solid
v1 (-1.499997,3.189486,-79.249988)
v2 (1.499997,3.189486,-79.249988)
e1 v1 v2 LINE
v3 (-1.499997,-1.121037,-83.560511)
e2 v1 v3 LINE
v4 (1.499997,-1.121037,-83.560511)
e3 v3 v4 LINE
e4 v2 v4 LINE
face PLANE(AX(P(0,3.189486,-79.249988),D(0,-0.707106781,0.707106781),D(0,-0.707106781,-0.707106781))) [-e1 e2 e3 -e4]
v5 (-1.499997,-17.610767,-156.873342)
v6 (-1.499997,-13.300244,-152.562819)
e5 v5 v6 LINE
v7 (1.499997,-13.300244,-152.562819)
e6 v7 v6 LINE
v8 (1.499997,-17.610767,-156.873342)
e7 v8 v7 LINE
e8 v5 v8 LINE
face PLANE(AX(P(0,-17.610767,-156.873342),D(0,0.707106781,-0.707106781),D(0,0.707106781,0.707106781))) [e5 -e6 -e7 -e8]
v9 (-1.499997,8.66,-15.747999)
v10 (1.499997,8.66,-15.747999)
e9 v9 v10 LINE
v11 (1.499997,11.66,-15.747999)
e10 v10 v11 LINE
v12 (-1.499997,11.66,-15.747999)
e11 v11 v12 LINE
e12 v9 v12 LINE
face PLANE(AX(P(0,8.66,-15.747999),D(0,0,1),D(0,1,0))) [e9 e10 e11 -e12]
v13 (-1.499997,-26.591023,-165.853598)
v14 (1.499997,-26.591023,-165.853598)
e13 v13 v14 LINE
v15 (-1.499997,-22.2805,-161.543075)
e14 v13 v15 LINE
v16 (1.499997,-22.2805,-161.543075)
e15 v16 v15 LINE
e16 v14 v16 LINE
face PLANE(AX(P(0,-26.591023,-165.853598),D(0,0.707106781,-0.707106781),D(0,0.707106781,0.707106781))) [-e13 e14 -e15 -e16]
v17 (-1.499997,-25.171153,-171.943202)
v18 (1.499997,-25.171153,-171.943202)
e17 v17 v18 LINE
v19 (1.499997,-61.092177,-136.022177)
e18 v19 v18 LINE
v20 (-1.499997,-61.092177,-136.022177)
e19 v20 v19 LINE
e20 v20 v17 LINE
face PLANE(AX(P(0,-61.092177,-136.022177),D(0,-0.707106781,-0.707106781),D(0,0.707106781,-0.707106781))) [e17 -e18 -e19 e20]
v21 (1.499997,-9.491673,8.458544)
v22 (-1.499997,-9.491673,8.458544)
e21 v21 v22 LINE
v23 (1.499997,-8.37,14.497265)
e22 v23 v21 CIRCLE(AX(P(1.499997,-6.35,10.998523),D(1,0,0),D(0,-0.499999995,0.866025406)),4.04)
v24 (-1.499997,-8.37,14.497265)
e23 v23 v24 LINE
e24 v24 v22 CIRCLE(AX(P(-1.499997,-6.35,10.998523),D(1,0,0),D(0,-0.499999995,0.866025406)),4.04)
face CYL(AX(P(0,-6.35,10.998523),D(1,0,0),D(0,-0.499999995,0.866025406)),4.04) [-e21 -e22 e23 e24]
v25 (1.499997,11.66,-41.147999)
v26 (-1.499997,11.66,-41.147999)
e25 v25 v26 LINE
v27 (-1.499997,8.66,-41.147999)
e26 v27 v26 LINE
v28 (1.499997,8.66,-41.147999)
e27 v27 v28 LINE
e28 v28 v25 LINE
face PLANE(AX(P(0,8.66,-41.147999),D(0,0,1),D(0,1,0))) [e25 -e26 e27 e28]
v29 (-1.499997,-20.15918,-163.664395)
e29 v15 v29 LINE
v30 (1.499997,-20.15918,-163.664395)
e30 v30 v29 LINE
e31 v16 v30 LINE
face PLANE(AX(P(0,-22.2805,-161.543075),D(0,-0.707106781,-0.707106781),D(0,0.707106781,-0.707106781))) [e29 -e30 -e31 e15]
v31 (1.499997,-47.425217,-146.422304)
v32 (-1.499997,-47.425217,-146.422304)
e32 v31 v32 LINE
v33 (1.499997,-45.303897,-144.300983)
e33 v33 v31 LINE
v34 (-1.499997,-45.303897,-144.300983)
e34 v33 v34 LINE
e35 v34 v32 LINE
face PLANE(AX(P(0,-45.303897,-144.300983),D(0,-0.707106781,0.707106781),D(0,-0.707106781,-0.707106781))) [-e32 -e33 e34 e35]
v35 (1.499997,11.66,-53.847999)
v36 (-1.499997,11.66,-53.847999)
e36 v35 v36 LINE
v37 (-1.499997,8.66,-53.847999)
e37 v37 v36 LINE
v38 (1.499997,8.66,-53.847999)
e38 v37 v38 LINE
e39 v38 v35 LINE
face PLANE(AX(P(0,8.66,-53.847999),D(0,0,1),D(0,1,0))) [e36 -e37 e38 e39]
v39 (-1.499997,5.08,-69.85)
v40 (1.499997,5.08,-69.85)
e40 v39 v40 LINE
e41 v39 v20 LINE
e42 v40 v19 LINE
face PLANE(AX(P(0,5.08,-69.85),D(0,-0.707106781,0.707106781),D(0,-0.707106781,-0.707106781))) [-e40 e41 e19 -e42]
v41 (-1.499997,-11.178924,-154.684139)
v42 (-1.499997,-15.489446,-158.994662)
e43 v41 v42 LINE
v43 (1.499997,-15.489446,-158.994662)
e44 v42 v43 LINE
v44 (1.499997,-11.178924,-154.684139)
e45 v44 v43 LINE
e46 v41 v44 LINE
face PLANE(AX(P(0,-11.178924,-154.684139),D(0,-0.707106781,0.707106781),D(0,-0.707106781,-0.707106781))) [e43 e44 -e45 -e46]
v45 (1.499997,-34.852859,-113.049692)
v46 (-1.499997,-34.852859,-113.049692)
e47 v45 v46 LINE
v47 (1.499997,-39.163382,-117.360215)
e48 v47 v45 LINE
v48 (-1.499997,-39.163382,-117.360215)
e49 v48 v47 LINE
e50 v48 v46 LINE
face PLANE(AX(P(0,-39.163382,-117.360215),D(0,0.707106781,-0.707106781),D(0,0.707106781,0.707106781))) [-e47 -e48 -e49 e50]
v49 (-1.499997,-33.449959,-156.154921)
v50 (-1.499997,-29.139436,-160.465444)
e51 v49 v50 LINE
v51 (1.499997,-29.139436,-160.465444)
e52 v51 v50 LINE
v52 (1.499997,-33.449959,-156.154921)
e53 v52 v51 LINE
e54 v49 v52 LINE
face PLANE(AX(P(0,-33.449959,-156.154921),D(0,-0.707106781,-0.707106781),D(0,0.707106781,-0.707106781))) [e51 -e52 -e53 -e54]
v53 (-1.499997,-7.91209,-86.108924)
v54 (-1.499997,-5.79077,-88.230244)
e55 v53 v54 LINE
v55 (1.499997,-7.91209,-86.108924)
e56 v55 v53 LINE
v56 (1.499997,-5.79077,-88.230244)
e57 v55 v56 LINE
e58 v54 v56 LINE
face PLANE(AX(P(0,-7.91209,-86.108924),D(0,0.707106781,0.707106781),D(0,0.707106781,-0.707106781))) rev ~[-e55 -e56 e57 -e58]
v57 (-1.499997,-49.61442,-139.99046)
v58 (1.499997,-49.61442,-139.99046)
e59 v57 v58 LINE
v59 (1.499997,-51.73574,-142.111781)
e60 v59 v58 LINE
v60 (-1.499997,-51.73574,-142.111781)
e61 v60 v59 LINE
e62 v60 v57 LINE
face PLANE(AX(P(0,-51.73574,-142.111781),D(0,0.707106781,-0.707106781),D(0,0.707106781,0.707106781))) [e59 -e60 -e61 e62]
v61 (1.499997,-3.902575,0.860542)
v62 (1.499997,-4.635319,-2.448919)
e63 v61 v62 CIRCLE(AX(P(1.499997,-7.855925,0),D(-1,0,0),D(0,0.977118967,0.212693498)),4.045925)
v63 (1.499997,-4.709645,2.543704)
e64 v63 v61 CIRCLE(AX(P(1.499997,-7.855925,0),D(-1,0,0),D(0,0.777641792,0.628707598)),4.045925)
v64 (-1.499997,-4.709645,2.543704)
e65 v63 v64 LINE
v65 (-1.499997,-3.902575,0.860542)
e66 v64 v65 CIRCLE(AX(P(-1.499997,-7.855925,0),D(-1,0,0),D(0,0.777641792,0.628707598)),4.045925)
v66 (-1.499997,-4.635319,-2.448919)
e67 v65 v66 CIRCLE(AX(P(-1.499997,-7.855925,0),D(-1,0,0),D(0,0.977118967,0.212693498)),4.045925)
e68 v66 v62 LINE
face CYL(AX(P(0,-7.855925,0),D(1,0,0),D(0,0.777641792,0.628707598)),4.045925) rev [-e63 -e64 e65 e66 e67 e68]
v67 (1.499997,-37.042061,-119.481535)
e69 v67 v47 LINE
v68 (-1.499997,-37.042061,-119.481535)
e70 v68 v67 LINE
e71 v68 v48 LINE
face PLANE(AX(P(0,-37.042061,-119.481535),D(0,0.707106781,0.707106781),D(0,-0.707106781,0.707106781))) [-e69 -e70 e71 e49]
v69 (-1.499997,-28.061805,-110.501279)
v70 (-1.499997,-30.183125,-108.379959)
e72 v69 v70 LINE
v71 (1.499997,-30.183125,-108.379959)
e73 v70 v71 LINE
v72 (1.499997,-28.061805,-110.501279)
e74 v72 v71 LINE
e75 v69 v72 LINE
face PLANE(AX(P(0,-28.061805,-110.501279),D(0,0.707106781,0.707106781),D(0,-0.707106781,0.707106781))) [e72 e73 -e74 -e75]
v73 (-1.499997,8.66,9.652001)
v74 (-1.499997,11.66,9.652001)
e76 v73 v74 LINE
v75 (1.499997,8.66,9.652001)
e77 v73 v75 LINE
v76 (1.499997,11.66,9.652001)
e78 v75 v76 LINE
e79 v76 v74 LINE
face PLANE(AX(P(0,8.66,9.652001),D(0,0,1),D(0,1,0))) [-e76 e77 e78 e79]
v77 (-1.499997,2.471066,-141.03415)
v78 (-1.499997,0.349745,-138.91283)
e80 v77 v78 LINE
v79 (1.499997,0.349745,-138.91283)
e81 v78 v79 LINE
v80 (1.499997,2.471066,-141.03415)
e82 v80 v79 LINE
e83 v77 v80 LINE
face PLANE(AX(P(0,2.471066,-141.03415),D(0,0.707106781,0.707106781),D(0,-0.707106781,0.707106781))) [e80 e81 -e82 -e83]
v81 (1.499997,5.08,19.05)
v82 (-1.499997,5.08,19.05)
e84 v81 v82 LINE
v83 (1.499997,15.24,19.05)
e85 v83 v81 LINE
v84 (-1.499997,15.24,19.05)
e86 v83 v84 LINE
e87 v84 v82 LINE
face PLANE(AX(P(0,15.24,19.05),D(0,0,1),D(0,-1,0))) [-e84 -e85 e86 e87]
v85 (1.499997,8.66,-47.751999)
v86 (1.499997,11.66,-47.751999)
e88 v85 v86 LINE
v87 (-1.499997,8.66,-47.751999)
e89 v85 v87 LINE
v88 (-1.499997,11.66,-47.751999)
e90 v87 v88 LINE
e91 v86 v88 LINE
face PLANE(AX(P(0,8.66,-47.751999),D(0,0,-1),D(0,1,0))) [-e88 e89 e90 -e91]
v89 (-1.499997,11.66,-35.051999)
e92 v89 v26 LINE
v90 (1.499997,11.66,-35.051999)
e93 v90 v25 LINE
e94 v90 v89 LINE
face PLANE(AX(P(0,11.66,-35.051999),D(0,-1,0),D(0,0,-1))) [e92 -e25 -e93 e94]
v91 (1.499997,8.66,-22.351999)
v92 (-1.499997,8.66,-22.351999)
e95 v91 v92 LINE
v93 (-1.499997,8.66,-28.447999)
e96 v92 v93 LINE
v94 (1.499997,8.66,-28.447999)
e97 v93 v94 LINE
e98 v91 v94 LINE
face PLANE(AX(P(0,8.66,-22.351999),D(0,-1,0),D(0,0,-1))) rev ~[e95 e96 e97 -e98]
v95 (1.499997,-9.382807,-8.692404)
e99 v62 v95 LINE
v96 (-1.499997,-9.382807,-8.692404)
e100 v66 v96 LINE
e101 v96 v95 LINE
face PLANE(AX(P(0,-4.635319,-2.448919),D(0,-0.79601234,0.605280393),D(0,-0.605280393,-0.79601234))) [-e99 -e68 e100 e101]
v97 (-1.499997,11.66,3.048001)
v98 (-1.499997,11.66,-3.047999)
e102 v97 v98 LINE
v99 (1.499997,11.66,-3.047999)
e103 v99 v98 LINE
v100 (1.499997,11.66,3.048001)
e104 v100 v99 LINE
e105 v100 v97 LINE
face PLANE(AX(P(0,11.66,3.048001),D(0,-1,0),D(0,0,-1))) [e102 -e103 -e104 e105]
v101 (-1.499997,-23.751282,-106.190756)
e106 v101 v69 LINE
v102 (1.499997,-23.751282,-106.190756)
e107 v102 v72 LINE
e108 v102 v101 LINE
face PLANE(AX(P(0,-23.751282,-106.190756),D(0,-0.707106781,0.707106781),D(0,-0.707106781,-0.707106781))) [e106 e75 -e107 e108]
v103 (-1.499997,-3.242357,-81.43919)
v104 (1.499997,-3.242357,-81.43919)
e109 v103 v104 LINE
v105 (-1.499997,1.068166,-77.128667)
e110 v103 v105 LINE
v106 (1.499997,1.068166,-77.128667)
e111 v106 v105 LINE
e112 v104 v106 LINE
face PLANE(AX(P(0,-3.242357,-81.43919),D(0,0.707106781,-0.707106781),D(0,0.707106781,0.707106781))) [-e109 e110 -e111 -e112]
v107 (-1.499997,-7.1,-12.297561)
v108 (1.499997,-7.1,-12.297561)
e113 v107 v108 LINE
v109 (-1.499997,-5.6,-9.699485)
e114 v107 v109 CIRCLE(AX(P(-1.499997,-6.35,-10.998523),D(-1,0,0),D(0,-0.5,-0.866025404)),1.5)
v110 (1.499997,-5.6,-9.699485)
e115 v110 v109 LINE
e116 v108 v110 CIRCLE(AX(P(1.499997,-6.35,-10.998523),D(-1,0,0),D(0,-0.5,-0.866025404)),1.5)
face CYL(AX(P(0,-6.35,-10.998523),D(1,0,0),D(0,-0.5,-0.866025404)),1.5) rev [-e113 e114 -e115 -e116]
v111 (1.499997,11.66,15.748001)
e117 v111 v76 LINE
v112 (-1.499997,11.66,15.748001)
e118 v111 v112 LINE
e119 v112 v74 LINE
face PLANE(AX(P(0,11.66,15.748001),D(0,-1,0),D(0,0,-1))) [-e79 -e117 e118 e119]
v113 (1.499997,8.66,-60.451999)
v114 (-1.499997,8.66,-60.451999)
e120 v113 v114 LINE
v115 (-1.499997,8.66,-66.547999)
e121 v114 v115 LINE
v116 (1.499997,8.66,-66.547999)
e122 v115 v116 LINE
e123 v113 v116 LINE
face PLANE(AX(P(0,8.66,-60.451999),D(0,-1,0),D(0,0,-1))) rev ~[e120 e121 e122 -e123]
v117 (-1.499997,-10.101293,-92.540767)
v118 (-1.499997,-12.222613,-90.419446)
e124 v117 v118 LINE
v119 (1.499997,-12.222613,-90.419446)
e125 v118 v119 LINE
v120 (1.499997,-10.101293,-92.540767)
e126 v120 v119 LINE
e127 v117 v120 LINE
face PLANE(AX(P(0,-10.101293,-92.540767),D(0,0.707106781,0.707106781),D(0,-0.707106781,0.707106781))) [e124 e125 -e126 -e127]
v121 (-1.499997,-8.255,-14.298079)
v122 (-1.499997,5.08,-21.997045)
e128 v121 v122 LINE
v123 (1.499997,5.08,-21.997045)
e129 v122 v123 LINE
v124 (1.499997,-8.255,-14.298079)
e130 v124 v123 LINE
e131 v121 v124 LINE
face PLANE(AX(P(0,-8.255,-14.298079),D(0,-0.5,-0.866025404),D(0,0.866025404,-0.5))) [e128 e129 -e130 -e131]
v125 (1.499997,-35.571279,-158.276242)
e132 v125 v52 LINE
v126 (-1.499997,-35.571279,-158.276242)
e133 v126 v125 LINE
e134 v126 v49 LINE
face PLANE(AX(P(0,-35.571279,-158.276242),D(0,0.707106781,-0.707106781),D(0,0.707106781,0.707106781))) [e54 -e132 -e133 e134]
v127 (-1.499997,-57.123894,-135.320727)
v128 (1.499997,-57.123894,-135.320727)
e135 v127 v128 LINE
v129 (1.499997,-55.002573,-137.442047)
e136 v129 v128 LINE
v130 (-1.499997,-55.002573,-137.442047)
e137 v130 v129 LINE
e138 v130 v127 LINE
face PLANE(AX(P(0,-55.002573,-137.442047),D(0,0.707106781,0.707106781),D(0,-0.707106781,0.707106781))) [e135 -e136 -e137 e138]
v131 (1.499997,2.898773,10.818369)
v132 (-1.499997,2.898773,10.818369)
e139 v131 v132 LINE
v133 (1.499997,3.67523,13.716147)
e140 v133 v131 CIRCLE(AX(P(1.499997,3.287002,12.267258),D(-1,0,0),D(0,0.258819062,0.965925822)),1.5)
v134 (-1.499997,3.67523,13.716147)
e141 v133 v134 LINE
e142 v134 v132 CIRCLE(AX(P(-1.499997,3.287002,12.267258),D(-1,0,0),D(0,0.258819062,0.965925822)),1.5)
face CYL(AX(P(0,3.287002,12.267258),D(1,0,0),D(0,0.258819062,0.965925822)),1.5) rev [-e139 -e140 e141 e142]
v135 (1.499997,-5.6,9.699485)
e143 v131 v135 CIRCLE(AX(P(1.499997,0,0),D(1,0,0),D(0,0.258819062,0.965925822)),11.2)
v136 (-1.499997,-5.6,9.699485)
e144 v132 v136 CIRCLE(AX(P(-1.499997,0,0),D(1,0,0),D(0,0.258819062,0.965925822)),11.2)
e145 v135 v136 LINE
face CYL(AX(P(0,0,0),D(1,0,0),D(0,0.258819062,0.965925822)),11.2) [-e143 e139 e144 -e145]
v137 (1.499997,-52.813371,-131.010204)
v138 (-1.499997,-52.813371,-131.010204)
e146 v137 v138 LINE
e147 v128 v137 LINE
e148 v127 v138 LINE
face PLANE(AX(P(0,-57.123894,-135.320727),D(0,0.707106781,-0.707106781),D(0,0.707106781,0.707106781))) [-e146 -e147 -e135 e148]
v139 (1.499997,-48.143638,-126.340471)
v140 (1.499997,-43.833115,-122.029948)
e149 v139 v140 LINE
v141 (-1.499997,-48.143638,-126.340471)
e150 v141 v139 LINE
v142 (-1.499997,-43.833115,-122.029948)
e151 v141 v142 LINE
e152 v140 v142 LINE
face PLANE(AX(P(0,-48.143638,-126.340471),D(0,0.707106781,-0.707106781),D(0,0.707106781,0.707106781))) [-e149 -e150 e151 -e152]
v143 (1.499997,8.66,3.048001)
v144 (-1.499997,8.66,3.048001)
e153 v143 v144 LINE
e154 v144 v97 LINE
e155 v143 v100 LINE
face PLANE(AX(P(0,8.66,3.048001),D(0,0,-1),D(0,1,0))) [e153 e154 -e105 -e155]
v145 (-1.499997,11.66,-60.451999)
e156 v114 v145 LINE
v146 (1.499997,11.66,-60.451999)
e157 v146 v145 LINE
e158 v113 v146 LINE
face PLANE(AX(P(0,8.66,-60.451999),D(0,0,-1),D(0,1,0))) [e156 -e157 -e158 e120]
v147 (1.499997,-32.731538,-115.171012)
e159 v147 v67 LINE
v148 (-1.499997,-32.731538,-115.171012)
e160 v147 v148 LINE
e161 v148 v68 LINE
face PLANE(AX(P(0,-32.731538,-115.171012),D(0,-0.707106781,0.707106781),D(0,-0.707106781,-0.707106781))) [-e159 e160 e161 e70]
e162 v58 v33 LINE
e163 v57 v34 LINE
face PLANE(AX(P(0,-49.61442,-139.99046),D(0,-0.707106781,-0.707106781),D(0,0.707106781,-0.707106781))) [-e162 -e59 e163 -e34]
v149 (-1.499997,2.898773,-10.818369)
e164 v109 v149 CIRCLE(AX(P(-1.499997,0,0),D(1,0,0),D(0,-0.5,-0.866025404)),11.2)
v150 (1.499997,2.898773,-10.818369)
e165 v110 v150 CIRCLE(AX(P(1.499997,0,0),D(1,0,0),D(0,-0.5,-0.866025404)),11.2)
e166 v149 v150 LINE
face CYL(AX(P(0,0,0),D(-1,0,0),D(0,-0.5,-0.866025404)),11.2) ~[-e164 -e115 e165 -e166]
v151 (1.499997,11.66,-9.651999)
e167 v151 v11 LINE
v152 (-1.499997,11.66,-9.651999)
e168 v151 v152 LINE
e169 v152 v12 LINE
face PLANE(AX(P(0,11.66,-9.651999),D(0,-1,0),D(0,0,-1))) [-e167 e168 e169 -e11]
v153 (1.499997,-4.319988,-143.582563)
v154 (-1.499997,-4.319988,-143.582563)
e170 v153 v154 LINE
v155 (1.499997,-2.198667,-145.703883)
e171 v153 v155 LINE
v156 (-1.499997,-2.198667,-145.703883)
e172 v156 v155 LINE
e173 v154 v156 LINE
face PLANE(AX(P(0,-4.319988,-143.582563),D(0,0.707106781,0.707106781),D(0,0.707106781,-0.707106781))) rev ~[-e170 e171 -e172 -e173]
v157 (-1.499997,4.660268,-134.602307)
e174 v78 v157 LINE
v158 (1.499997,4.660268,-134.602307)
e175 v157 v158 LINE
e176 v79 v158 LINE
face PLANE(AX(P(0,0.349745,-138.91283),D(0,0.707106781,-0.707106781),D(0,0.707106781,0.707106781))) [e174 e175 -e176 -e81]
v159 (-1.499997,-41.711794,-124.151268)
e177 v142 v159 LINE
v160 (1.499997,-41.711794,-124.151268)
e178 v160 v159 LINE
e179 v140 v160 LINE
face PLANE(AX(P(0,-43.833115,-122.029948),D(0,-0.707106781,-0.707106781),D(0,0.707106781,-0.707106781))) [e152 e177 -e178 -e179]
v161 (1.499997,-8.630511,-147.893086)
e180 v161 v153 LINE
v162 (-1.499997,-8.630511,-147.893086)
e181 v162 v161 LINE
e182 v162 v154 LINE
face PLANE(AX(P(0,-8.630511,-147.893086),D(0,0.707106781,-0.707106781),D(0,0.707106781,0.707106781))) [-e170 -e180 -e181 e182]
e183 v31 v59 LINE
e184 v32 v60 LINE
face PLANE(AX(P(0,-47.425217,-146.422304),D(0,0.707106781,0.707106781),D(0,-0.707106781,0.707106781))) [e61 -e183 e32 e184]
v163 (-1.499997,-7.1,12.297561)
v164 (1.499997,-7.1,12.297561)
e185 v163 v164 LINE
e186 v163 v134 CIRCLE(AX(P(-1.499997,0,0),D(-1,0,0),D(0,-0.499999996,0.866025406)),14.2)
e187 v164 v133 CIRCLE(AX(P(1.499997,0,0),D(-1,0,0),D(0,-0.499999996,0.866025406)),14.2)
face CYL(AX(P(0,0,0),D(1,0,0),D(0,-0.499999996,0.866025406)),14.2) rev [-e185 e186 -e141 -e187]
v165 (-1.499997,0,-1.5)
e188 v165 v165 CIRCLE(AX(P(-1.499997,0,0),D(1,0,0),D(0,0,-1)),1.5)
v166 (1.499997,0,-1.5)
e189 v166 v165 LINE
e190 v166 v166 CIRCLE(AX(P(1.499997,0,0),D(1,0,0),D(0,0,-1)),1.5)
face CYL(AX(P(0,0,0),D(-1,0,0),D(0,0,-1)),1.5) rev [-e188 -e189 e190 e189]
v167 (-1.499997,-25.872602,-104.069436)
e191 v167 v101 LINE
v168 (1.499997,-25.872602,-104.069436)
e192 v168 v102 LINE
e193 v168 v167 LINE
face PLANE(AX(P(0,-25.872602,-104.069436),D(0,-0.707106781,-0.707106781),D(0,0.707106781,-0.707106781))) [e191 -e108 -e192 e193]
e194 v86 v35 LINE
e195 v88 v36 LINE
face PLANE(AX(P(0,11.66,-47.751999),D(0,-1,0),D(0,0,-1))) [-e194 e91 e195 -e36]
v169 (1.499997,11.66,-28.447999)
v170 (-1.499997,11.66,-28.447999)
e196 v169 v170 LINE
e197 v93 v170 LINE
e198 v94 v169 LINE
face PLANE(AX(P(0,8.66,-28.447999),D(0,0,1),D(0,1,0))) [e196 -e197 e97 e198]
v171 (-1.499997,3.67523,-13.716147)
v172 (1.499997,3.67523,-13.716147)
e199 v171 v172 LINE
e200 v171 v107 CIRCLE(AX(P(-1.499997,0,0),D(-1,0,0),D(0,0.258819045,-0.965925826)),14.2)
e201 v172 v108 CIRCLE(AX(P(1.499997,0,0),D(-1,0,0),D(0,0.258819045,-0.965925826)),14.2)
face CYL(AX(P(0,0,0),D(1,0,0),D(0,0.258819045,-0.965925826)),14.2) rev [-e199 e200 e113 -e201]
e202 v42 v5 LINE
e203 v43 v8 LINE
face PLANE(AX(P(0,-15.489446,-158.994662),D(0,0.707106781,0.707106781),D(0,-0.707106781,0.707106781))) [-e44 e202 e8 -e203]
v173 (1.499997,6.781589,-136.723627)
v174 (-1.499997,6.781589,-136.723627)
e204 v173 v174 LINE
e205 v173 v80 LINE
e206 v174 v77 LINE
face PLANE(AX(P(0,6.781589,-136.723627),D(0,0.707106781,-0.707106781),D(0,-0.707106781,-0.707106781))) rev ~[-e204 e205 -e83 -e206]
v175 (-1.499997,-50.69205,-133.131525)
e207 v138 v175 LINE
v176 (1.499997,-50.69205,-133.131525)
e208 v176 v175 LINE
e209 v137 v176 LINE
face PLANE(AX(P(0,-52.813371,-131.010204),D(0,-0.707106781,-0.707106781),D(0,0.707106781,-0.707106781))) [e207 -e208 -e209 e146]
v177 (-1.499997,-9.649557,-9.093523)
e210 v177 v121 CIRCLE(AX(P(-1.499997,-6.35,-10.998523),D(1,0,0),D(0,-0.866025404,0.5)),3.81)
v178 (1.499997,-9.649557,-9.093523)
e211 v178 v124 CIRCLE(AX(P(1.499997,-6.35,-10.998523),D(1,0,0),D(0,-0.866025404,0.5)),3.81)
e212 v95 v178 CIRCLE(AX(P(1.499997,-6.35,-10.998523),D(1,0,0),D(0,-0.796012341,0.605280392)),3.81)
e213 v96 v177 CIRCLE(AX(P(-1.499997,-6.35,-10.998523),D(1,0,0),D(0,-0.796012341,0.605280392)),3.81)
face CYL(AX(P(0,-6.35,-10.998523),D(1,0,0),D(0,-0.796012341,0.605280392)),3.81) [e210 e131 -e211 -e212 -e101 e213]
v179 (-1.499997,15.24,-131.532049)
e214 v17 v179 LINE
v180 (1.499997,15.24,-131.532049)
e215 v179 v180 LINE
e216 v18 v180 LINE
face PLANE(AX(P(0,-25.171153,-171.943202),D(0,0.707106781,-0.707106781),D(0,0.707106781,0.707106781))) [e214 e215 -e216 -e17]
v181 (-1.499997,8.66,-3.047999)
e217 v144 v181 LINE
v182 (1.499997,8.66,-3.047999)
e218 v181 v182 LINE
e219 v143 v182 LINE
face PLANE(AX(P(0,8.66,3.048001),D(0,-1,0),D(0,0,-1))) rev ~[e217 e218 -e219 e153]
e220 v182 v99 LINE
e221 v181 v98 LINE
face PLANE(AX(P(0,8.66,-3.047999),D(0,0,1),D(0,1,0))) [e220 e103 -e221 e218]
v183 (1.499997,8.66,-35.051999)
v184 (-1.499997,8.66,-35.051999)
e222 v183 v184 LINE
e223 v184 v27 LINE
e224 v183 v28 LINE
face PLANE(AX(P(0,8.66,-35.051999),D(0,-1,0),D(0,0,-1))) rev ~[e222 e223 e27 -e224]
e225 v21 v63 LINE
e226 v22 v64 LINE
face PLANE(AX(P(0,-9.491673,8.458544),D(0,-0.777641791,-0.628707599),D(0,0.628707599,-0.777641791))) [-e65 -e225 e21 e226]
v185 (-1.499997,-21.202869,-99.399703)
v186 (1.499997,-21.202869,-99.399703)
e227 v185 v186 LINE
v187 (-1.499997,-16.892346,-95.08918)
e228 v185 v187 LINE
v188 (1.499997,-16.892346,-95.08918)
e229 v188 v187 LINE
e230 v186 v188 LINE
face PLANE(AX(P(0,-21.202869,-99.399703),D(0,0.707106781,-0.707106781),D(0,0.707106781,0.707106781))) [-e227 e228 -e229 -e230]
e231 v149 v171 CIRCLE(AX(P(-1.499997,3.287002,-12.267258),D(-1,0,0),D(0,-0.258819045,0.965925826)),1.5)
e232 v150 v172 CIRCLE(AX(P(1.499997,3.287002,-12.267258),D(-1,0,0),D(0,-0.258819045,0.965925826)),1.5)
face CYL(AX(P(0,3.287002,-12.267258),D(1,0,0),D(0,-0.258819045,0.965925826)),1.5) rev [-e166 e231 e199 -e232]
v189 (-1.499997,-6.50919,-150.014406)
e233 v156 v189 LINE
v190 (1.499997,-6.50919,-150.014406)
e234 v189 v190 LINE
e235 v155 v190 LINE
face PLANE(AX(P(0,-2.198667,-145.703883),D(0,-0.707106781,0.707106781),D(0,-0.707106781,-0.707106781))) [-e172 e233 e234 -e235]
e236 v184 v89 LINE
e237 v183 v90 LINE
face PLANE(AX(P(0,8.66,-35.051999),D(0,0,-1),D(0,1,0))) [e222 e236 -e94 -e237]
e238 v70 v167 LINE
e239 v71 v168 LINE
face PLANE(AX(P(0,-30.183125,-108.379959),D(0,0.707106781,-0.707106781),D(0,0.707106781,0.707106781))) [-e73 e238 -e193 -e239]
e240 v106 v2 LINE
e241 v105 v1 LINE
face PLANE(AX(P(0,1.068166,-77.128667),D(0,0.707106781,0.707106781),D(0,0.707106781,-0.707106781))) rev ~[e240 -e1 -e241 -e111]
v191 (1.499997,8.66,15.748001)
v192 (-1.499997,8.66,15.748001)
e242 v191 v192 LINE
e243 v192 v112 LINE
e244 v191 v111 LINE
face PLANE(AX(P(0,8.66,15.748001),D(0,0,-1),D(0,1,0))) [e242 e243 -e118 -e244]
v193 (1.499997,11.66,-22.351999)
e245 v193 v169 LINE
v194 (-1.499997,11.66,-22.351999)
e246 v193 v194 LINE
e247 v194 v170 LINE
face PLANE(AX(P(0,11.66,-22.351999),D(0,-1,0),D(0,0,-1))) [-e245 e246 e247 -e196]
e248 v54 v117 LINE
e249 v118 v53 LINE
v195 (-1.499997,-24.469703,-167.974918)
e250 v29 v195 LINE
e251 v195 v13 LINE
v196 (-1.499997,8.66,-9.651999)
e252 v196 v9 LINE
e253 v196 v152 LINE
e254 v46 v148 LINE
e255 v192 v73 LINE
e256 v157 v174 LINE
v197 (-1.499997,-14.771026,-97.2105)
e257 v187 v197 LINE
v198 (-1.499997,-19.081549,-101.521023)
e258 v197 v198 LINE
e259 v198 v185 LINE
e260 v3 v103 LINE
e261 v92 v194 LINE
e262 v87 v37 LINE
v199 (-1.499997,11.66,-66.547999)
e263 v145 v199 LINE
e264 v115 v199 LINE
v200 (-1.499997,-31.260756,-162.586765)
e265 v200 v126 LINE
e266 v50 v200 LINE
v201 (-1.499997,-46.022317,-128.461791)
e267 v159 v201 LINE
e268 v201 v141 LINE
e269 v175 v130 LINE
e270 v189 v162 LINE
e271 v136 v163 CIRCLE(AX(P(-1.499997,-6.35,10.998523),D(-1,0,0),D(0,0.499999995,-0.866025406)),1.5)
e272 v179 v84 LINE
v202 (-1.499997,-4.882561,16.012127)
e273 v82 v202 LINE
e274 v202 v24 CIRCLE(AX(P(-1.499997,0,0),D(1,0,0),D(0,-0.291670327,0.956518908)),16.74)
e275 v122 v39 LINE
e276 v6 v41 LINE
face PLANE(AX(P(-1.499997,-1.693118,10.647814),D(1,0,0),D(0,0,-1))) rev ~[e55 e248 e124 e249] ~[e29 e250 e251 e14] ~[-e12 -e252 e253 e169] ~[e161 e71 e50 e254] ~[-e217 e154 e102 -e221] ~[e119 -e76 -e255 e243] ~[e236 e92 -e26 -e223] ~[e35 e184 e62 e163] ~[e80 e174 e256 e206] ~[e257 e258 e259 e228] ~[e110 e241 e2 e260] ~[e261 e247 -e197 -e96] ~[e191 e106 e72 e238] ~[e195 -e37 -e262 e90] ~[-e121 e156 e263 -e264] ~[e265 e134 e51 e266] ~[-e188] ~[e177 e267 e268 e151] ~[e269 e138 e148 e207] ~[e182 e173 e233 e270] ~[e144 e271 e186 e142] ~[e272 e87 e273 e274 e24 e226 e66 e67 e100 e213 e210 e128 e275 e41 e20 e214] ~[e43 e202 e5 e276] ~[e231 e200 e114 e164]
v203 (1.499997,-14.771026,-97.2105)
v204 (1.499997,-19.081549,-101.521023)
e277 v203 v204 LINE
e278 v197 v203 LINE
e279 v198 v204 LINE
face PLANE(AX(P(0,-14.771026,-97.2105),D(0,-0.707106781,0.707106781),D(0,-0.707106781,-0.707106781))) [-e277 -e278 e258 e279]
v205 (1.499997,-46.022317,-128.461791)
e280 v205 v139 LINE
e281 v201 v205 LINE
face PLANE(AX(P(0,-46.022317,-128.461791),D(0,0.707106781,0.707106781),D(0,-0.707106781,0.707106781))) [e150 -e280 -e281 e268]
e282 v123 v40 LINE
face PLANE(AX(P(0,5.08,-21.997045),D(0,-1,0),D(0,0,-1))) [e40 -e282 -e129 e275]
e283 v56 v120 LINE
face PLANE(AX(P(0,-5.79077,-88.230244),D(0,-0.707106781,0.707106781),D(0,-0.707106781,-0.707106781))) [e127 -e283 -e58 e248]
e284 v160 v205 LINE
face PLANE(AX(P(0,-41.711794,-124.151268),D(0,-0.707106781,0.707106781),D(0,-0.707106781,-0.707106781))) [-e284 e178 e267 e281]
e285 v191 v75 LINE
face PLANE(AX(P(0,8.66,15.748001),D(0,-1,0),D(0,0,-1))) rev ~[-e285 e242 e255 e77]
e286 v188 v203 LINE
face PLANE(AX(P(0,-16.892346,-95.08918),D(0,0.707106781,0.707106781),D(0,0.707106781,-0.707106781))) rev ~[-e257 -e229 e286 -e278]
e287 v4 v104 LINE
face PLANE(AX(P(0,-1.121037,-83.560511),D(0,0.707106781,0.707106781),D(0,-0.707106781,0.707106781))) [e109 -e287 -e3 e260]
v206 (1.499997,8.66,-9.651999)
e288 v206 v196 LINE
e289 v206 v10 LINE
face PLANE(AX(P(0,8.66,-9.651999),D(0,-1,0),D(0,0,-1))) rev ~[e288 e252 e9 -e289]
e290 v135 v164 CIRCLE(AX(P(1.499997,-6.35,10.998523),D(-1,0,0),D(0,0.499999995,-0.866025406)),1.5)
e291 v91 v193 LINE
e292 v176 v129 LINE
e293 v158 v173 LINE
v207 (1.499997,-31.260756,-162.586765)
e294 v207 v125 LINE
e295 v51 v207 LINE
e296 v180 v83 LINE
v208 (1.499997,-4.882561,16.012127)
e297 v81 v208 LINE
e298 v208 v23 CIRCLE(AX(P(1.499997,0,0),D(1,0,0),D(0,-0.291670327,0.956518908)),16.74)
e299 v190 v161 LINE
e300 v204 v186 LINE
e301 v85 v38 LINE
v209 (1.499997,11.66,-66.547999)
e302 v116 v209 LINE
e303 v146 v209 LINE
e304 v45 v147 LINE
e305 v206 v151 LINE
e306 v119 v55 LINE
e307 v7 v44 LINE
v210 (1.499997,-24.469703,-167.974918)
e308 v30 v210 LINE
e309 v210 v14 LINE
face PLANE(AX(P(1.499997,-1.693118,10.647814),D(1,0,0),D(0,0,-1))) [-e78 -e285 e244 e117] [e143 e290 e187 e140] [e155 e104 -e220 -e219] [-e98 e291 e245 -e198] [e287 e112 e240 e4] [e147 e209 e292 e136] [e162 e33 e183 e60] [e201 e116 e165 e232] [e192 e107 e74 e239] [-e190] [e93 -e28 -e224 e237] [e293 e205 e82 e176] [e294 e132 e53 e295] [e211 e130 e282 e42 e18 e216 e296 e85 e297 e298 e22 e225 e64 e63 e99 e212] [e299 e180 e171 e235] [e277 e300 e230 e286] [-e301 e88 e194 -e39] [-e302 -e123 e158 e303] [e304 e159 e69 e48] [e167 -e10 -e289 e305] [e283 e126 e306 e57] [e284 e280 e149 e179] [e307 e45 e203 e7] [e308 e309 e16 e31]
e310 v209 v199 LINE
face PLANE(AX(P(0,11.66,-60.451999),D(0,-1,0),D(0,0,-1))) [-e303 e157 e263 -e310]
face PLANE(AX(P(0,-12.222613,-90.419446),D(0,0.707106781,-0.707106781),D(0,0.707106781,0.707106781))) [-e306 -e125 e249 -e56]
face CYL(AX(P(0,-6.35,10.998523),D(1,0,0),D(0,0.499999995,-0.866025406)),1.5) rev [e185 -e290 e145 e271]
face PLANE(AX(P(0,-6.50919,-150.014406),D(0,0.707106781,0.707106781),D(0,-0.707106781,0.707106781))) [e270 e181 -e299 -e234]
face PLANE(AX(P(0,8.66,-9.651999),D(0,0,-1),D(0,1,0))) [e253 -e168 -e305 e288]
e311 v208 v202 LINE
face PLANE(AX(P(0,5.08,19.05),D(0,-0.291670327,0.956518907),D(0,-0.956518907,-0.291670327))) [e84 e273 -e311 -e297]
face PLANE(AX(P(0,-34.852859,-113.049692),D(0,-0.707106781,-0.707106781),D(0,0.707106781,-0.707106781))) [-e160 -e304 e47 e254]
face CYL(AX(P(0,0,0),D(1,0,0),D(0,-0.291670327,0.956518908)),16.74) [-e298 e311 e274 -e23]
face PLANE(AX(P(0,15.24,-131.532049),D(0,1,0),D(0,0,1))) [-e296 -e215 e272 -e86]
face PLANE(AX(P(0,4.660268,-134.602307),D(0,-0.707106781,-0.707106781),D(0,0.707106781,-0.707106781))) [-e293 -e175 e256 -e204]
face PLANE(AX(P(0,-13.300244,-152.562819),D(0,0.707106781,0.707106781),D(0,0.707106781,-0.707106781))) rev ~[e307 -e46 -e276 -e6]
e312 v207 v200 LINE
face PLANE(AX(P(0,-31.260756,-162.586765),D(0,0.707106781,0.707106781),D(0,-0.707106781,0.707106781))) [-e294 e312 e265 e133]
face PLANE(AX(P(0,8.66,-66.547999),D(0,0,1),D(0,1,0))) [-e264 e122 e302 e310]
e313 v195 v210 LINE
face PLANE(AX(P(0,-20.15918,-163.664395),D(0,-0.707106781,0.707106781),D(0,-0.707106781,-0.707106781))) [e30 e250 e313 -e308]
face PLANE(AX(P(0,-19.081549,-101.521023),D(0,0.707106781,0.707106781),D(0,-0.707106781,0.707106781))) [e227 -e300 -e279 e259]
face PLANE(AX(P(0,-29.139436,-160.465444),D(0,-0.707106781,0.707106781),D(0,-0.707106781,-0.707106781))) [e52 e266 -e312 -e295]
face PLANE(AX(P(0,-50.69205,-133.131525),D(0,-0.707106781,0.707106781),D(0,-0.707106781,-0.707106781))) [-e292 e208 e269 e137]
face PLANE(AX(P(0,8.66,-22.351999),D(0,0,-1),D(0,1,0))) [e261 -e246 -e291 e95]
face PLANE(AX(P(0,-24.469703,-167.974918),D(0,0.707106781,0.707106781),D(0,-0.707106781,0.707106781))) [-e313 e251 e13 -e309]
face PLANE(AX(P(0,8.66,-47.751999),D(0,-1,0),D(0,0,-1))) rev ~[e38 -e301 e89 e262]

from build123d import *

# Parameters (mm, degrees)
SKETCH1_R           = 1.5
SKETCH1_W           = 6.096
SKETCH1_H           = 3
BOSS_EXTRUDE1_DEPTH = 1.499997


with BuildPart() as part:
    # Sketch1 → Boss-Extrude1 (new, symmetric)
    # profile 1 of 2: a face of its own
    with BuildSketch(Plane(origin=(0, 0, 0), x_dir=(0, 0, -1), z_dir=(1, 0, 0))):
        with BuildLine():
            ThreePointArc((8.69240433, -9.382807016), (8.888743448, -9.522527669), (9.093522628, -9.649556788))
            ThreePointArc((9.093522628, -9.649556788), (11.98462319, -10.030177398), (14.298079416, -8.255))
            Line((14.298079416, -8.255), (21.997045256, 5.08))
            Line((21.997045256, 5.08), (69.85, 5.08))
            Line((69.85, 5.08), (136.022177029, -61.092177029))
            Line((136.022177029, -61.092177029), (171.943201513, -25.171152545))
            Line((171.943201513, -25.171152545), (131.532048969, 15.24))
            Line((131.532048969, 15.24), (-19.050000183, 15.24))
            Line((-19.050000183, 15.24), (-19.050000183, 5.08))
            Line((-19.050000183, 5.08), (-7.332348419, 5.08))
            Line((-7.332348419, 5.08), (-3.299556755, -1.905000058))
            ThreePointArc((-3.299556755, -1.905000058), (-2.694076843, -2.694076843), (-1.905000058, -3.299556755))
            Line((-1.905000058, -3.299556755), (-0.860541922, -3.902574941))
            ThreePointArc((-0.860541922, -3.902574941), (0.874622108, -3.905666115), (2.448919028, -4.635318757))
            Line((2.448919028, -4.635318757), (8.69240433, -9.382807016))
        make_face()
        Polygon((137.442047446, -55.00257343), (135.320727102, -57.123893773), (131.010204164, -52.813370835), (133.131524508, -50.692050491), align=None, mode=Mode.SUBTRACT)
        Polygon((142.111780629, -51.7357401), (139.990460285, -49.614419757), (144.300983223, -45.303896819), (146.422303567, -47.425217162), align=None, mode=Mode.SUBTRACT)
        Polygon((128.461791325, -46.022317308), (126.340470981, -48.143637652), (122.029948043, -43.833114714), (124.151268387, -41.71179437), align=None, mode=Mode.SUBTRACT)
        Polygon((119.481535204, -37.042061187), (117.36021486, -39.163381531), (113.049691922, -34.852858593), (115.171012265, -32.731538249), align=None, mode=Mode.SUBTRACT)
        Polygon((110.501279083, -28.061805066), (108.379958739, -30.18312541), (104.069435801, -25.872602472), (106.190756144, -23.751282128), align=None, mode=Mode.SUBTRACT)
        Polygon((158.276241647, -35.571279083), (156.154921303, -33.449958739), (160.465444241, -29.139435801), (162.586764585, -31.260756144), align=None, mode=Mode.SUBTRACT)
        Polygon((167.974918257, -24.469702618), (165.853597914, -26.591022961), (161.543074976, -22.280500023), (163.664395319, -20.15917968), align=None, mode=Mode.SUBTRACT)
        Circle(SKETCH1_R, mode=Mode.SUBTRACT)
        with BuildLine():
            ThreePointArc((13.716146733, 3.67523044), (14.078517032, -1.85347193), (12.297560734, -7.1))
            ThreePointArc((12.297560734, -7.1), (10.248522628, -7.649038106), (9.699484522, -5.6))
            ThreePointArc((9.699484522, -5.6), (11.104182447, -1.461893353), (10.818369254, 2.898773305))
            ThreePointArc((10.818369254, 2.898773305), (11.879029426, 4.735890612), (13.716146733, 3.67523044))
        make_face(mode=Mode.SUBTRACT)
        with Locations((-12.700000556, 10.16)):
            Rectangle(SKETCH1_W, SKETCH1_H, mode=Mode.SUBTRACT)
        with Locations((-5.56e-07, 10.16)):
            Rectangle(SKETCH1_W, SKETCH1_H, mode=Mode.SUBTRACT)
        with Locations((12.699999444, 10.16)):
            Rectangle(SKETCH1_W, SKETCH1_H, mode=Mode.SUBTRACT)
        with Locations((25.399999444, 10.16)):
            Rectangle(SKETCH1_W, SKETCH1_H, mode=Mode.SUBTRACT)
        with Locations((38.099999444, 10.16)):
            Rectangle(SKETCH1_W, SKETCH1_H, mode=Mode.SUBTRACT)
        with Locations((50.799999444, 10.16)):
            Rectangle(SKETCH1_W, SKETCH1_H, mode=Mode.SUBTRACT)
        with Locations((63.499999444, 10.16)):
            Rectangle(SKETCH1_W, SKETCH1_H, mode=Mode.SUBTRACT)
        Polygon((101.521022961, -19.081548945), (99.399702618, -21.202869289), (95.08917968, -16.892346351), (97.210500023, -14.771026007), align=None, mode=Mode.SUBTRACT)
        Polygon((92.54076684, -10.101292824), (90.419446497, -12.222613168), (86.108923559, -7.91209023), (88.230243902, -5.790769886), align=None, mode=Mode.SUBTRACT)
        Polygon((158.994662136, -15.489446497), (156.873341793, -17.61076684), (152.562818855, -13.300243902), (154.684139198, -11.178923559), align=None, mode=Mode.SUBTRACT)
        Polygon((150.014406015, -6.509190376), (147.893085672, -8.630510719), (143.582562734, -4.319987781), (145.703883077, -2.198667438), align=None, mode=Mode.SUBTRACT)
        Polygon((83.560510719, -1.121036703), (81.439190376, -3.242357047), (77.128667438, 1.068165891), (79.249987781, 3.189486235), align=None, mode=Mode.SUBTRACT)
        Polygon((141.034149894, 2.471065745), (138.912829551, 0.349745402), (134.602306612, 4.66026834), (136.723626956, 6.781588683), align=None, mode=Mode.SUBTRACT)
    # profile 2 of 2: a face of its own
    with BuildSketch(Plane(origin=(0, 0, 0), x_dir=(0, 0, -1), z_dir=(1, 0, 0))):
        with BuildLine():
            ThreePointArc((-2.543703742, -4.709644618), (-1.749303433, -4.207713583), (-0.860541922, -3.902574941))
            Line((-0.860541922, -3.902574941), (-1.905000058, -3.299556755))
            ThreePointArc((-1.905000058, -3.299556755), (-2.694076843, -2.694076843), (-3.299556755, -1.905000058))
            Line((-3.299556755, -1.905000058), (-7.332348419, 5.08))
            Line((-7.332348419, 5.08), (-19.050000183, 5.08))
            Line((-19.050000183, 5.08), (-16.012126569, -4.882561423))
            ThreePointArc((-16.012126569, -4.882561423), (-15.354032248, -6.669430071), (-14.497265375, -8.370000042))
            ThreePointArc((-14.497265375, -8.370000042), (-11.736319841, -10.322059404), (-8.458544034, -9.491672897))
            Line((-8.458544034, -9.491672897), (-2.543703742, -4.709644618))
        make_face()
        with BuildLine():
            ThreePointArc((-12.297560842, -7.100000054), (-14.078517108, -1.853471934), (-13.716146726, 3.675230466))
            ThreePointArc((-13.716146726, 3.675230466), (-11.879029401, 4.735890605), (-10.818369261, 2.89877328))
            ThreePointArc((-10.818369261, 2.89877328), (-11.104182519, -1.461893392), (-9.699484623, -5.600000067))
            ThreePointArc((-9.699484623, -5.600000067), (-10.24852274, -7.64903817), (-12.297560842, -7.100000054))
        make_face(mode=Mode.SUBTRACT)
    extrude(amount=BOSS_EXTRUDE1_DEPTH, both=True)


solid = part.part
